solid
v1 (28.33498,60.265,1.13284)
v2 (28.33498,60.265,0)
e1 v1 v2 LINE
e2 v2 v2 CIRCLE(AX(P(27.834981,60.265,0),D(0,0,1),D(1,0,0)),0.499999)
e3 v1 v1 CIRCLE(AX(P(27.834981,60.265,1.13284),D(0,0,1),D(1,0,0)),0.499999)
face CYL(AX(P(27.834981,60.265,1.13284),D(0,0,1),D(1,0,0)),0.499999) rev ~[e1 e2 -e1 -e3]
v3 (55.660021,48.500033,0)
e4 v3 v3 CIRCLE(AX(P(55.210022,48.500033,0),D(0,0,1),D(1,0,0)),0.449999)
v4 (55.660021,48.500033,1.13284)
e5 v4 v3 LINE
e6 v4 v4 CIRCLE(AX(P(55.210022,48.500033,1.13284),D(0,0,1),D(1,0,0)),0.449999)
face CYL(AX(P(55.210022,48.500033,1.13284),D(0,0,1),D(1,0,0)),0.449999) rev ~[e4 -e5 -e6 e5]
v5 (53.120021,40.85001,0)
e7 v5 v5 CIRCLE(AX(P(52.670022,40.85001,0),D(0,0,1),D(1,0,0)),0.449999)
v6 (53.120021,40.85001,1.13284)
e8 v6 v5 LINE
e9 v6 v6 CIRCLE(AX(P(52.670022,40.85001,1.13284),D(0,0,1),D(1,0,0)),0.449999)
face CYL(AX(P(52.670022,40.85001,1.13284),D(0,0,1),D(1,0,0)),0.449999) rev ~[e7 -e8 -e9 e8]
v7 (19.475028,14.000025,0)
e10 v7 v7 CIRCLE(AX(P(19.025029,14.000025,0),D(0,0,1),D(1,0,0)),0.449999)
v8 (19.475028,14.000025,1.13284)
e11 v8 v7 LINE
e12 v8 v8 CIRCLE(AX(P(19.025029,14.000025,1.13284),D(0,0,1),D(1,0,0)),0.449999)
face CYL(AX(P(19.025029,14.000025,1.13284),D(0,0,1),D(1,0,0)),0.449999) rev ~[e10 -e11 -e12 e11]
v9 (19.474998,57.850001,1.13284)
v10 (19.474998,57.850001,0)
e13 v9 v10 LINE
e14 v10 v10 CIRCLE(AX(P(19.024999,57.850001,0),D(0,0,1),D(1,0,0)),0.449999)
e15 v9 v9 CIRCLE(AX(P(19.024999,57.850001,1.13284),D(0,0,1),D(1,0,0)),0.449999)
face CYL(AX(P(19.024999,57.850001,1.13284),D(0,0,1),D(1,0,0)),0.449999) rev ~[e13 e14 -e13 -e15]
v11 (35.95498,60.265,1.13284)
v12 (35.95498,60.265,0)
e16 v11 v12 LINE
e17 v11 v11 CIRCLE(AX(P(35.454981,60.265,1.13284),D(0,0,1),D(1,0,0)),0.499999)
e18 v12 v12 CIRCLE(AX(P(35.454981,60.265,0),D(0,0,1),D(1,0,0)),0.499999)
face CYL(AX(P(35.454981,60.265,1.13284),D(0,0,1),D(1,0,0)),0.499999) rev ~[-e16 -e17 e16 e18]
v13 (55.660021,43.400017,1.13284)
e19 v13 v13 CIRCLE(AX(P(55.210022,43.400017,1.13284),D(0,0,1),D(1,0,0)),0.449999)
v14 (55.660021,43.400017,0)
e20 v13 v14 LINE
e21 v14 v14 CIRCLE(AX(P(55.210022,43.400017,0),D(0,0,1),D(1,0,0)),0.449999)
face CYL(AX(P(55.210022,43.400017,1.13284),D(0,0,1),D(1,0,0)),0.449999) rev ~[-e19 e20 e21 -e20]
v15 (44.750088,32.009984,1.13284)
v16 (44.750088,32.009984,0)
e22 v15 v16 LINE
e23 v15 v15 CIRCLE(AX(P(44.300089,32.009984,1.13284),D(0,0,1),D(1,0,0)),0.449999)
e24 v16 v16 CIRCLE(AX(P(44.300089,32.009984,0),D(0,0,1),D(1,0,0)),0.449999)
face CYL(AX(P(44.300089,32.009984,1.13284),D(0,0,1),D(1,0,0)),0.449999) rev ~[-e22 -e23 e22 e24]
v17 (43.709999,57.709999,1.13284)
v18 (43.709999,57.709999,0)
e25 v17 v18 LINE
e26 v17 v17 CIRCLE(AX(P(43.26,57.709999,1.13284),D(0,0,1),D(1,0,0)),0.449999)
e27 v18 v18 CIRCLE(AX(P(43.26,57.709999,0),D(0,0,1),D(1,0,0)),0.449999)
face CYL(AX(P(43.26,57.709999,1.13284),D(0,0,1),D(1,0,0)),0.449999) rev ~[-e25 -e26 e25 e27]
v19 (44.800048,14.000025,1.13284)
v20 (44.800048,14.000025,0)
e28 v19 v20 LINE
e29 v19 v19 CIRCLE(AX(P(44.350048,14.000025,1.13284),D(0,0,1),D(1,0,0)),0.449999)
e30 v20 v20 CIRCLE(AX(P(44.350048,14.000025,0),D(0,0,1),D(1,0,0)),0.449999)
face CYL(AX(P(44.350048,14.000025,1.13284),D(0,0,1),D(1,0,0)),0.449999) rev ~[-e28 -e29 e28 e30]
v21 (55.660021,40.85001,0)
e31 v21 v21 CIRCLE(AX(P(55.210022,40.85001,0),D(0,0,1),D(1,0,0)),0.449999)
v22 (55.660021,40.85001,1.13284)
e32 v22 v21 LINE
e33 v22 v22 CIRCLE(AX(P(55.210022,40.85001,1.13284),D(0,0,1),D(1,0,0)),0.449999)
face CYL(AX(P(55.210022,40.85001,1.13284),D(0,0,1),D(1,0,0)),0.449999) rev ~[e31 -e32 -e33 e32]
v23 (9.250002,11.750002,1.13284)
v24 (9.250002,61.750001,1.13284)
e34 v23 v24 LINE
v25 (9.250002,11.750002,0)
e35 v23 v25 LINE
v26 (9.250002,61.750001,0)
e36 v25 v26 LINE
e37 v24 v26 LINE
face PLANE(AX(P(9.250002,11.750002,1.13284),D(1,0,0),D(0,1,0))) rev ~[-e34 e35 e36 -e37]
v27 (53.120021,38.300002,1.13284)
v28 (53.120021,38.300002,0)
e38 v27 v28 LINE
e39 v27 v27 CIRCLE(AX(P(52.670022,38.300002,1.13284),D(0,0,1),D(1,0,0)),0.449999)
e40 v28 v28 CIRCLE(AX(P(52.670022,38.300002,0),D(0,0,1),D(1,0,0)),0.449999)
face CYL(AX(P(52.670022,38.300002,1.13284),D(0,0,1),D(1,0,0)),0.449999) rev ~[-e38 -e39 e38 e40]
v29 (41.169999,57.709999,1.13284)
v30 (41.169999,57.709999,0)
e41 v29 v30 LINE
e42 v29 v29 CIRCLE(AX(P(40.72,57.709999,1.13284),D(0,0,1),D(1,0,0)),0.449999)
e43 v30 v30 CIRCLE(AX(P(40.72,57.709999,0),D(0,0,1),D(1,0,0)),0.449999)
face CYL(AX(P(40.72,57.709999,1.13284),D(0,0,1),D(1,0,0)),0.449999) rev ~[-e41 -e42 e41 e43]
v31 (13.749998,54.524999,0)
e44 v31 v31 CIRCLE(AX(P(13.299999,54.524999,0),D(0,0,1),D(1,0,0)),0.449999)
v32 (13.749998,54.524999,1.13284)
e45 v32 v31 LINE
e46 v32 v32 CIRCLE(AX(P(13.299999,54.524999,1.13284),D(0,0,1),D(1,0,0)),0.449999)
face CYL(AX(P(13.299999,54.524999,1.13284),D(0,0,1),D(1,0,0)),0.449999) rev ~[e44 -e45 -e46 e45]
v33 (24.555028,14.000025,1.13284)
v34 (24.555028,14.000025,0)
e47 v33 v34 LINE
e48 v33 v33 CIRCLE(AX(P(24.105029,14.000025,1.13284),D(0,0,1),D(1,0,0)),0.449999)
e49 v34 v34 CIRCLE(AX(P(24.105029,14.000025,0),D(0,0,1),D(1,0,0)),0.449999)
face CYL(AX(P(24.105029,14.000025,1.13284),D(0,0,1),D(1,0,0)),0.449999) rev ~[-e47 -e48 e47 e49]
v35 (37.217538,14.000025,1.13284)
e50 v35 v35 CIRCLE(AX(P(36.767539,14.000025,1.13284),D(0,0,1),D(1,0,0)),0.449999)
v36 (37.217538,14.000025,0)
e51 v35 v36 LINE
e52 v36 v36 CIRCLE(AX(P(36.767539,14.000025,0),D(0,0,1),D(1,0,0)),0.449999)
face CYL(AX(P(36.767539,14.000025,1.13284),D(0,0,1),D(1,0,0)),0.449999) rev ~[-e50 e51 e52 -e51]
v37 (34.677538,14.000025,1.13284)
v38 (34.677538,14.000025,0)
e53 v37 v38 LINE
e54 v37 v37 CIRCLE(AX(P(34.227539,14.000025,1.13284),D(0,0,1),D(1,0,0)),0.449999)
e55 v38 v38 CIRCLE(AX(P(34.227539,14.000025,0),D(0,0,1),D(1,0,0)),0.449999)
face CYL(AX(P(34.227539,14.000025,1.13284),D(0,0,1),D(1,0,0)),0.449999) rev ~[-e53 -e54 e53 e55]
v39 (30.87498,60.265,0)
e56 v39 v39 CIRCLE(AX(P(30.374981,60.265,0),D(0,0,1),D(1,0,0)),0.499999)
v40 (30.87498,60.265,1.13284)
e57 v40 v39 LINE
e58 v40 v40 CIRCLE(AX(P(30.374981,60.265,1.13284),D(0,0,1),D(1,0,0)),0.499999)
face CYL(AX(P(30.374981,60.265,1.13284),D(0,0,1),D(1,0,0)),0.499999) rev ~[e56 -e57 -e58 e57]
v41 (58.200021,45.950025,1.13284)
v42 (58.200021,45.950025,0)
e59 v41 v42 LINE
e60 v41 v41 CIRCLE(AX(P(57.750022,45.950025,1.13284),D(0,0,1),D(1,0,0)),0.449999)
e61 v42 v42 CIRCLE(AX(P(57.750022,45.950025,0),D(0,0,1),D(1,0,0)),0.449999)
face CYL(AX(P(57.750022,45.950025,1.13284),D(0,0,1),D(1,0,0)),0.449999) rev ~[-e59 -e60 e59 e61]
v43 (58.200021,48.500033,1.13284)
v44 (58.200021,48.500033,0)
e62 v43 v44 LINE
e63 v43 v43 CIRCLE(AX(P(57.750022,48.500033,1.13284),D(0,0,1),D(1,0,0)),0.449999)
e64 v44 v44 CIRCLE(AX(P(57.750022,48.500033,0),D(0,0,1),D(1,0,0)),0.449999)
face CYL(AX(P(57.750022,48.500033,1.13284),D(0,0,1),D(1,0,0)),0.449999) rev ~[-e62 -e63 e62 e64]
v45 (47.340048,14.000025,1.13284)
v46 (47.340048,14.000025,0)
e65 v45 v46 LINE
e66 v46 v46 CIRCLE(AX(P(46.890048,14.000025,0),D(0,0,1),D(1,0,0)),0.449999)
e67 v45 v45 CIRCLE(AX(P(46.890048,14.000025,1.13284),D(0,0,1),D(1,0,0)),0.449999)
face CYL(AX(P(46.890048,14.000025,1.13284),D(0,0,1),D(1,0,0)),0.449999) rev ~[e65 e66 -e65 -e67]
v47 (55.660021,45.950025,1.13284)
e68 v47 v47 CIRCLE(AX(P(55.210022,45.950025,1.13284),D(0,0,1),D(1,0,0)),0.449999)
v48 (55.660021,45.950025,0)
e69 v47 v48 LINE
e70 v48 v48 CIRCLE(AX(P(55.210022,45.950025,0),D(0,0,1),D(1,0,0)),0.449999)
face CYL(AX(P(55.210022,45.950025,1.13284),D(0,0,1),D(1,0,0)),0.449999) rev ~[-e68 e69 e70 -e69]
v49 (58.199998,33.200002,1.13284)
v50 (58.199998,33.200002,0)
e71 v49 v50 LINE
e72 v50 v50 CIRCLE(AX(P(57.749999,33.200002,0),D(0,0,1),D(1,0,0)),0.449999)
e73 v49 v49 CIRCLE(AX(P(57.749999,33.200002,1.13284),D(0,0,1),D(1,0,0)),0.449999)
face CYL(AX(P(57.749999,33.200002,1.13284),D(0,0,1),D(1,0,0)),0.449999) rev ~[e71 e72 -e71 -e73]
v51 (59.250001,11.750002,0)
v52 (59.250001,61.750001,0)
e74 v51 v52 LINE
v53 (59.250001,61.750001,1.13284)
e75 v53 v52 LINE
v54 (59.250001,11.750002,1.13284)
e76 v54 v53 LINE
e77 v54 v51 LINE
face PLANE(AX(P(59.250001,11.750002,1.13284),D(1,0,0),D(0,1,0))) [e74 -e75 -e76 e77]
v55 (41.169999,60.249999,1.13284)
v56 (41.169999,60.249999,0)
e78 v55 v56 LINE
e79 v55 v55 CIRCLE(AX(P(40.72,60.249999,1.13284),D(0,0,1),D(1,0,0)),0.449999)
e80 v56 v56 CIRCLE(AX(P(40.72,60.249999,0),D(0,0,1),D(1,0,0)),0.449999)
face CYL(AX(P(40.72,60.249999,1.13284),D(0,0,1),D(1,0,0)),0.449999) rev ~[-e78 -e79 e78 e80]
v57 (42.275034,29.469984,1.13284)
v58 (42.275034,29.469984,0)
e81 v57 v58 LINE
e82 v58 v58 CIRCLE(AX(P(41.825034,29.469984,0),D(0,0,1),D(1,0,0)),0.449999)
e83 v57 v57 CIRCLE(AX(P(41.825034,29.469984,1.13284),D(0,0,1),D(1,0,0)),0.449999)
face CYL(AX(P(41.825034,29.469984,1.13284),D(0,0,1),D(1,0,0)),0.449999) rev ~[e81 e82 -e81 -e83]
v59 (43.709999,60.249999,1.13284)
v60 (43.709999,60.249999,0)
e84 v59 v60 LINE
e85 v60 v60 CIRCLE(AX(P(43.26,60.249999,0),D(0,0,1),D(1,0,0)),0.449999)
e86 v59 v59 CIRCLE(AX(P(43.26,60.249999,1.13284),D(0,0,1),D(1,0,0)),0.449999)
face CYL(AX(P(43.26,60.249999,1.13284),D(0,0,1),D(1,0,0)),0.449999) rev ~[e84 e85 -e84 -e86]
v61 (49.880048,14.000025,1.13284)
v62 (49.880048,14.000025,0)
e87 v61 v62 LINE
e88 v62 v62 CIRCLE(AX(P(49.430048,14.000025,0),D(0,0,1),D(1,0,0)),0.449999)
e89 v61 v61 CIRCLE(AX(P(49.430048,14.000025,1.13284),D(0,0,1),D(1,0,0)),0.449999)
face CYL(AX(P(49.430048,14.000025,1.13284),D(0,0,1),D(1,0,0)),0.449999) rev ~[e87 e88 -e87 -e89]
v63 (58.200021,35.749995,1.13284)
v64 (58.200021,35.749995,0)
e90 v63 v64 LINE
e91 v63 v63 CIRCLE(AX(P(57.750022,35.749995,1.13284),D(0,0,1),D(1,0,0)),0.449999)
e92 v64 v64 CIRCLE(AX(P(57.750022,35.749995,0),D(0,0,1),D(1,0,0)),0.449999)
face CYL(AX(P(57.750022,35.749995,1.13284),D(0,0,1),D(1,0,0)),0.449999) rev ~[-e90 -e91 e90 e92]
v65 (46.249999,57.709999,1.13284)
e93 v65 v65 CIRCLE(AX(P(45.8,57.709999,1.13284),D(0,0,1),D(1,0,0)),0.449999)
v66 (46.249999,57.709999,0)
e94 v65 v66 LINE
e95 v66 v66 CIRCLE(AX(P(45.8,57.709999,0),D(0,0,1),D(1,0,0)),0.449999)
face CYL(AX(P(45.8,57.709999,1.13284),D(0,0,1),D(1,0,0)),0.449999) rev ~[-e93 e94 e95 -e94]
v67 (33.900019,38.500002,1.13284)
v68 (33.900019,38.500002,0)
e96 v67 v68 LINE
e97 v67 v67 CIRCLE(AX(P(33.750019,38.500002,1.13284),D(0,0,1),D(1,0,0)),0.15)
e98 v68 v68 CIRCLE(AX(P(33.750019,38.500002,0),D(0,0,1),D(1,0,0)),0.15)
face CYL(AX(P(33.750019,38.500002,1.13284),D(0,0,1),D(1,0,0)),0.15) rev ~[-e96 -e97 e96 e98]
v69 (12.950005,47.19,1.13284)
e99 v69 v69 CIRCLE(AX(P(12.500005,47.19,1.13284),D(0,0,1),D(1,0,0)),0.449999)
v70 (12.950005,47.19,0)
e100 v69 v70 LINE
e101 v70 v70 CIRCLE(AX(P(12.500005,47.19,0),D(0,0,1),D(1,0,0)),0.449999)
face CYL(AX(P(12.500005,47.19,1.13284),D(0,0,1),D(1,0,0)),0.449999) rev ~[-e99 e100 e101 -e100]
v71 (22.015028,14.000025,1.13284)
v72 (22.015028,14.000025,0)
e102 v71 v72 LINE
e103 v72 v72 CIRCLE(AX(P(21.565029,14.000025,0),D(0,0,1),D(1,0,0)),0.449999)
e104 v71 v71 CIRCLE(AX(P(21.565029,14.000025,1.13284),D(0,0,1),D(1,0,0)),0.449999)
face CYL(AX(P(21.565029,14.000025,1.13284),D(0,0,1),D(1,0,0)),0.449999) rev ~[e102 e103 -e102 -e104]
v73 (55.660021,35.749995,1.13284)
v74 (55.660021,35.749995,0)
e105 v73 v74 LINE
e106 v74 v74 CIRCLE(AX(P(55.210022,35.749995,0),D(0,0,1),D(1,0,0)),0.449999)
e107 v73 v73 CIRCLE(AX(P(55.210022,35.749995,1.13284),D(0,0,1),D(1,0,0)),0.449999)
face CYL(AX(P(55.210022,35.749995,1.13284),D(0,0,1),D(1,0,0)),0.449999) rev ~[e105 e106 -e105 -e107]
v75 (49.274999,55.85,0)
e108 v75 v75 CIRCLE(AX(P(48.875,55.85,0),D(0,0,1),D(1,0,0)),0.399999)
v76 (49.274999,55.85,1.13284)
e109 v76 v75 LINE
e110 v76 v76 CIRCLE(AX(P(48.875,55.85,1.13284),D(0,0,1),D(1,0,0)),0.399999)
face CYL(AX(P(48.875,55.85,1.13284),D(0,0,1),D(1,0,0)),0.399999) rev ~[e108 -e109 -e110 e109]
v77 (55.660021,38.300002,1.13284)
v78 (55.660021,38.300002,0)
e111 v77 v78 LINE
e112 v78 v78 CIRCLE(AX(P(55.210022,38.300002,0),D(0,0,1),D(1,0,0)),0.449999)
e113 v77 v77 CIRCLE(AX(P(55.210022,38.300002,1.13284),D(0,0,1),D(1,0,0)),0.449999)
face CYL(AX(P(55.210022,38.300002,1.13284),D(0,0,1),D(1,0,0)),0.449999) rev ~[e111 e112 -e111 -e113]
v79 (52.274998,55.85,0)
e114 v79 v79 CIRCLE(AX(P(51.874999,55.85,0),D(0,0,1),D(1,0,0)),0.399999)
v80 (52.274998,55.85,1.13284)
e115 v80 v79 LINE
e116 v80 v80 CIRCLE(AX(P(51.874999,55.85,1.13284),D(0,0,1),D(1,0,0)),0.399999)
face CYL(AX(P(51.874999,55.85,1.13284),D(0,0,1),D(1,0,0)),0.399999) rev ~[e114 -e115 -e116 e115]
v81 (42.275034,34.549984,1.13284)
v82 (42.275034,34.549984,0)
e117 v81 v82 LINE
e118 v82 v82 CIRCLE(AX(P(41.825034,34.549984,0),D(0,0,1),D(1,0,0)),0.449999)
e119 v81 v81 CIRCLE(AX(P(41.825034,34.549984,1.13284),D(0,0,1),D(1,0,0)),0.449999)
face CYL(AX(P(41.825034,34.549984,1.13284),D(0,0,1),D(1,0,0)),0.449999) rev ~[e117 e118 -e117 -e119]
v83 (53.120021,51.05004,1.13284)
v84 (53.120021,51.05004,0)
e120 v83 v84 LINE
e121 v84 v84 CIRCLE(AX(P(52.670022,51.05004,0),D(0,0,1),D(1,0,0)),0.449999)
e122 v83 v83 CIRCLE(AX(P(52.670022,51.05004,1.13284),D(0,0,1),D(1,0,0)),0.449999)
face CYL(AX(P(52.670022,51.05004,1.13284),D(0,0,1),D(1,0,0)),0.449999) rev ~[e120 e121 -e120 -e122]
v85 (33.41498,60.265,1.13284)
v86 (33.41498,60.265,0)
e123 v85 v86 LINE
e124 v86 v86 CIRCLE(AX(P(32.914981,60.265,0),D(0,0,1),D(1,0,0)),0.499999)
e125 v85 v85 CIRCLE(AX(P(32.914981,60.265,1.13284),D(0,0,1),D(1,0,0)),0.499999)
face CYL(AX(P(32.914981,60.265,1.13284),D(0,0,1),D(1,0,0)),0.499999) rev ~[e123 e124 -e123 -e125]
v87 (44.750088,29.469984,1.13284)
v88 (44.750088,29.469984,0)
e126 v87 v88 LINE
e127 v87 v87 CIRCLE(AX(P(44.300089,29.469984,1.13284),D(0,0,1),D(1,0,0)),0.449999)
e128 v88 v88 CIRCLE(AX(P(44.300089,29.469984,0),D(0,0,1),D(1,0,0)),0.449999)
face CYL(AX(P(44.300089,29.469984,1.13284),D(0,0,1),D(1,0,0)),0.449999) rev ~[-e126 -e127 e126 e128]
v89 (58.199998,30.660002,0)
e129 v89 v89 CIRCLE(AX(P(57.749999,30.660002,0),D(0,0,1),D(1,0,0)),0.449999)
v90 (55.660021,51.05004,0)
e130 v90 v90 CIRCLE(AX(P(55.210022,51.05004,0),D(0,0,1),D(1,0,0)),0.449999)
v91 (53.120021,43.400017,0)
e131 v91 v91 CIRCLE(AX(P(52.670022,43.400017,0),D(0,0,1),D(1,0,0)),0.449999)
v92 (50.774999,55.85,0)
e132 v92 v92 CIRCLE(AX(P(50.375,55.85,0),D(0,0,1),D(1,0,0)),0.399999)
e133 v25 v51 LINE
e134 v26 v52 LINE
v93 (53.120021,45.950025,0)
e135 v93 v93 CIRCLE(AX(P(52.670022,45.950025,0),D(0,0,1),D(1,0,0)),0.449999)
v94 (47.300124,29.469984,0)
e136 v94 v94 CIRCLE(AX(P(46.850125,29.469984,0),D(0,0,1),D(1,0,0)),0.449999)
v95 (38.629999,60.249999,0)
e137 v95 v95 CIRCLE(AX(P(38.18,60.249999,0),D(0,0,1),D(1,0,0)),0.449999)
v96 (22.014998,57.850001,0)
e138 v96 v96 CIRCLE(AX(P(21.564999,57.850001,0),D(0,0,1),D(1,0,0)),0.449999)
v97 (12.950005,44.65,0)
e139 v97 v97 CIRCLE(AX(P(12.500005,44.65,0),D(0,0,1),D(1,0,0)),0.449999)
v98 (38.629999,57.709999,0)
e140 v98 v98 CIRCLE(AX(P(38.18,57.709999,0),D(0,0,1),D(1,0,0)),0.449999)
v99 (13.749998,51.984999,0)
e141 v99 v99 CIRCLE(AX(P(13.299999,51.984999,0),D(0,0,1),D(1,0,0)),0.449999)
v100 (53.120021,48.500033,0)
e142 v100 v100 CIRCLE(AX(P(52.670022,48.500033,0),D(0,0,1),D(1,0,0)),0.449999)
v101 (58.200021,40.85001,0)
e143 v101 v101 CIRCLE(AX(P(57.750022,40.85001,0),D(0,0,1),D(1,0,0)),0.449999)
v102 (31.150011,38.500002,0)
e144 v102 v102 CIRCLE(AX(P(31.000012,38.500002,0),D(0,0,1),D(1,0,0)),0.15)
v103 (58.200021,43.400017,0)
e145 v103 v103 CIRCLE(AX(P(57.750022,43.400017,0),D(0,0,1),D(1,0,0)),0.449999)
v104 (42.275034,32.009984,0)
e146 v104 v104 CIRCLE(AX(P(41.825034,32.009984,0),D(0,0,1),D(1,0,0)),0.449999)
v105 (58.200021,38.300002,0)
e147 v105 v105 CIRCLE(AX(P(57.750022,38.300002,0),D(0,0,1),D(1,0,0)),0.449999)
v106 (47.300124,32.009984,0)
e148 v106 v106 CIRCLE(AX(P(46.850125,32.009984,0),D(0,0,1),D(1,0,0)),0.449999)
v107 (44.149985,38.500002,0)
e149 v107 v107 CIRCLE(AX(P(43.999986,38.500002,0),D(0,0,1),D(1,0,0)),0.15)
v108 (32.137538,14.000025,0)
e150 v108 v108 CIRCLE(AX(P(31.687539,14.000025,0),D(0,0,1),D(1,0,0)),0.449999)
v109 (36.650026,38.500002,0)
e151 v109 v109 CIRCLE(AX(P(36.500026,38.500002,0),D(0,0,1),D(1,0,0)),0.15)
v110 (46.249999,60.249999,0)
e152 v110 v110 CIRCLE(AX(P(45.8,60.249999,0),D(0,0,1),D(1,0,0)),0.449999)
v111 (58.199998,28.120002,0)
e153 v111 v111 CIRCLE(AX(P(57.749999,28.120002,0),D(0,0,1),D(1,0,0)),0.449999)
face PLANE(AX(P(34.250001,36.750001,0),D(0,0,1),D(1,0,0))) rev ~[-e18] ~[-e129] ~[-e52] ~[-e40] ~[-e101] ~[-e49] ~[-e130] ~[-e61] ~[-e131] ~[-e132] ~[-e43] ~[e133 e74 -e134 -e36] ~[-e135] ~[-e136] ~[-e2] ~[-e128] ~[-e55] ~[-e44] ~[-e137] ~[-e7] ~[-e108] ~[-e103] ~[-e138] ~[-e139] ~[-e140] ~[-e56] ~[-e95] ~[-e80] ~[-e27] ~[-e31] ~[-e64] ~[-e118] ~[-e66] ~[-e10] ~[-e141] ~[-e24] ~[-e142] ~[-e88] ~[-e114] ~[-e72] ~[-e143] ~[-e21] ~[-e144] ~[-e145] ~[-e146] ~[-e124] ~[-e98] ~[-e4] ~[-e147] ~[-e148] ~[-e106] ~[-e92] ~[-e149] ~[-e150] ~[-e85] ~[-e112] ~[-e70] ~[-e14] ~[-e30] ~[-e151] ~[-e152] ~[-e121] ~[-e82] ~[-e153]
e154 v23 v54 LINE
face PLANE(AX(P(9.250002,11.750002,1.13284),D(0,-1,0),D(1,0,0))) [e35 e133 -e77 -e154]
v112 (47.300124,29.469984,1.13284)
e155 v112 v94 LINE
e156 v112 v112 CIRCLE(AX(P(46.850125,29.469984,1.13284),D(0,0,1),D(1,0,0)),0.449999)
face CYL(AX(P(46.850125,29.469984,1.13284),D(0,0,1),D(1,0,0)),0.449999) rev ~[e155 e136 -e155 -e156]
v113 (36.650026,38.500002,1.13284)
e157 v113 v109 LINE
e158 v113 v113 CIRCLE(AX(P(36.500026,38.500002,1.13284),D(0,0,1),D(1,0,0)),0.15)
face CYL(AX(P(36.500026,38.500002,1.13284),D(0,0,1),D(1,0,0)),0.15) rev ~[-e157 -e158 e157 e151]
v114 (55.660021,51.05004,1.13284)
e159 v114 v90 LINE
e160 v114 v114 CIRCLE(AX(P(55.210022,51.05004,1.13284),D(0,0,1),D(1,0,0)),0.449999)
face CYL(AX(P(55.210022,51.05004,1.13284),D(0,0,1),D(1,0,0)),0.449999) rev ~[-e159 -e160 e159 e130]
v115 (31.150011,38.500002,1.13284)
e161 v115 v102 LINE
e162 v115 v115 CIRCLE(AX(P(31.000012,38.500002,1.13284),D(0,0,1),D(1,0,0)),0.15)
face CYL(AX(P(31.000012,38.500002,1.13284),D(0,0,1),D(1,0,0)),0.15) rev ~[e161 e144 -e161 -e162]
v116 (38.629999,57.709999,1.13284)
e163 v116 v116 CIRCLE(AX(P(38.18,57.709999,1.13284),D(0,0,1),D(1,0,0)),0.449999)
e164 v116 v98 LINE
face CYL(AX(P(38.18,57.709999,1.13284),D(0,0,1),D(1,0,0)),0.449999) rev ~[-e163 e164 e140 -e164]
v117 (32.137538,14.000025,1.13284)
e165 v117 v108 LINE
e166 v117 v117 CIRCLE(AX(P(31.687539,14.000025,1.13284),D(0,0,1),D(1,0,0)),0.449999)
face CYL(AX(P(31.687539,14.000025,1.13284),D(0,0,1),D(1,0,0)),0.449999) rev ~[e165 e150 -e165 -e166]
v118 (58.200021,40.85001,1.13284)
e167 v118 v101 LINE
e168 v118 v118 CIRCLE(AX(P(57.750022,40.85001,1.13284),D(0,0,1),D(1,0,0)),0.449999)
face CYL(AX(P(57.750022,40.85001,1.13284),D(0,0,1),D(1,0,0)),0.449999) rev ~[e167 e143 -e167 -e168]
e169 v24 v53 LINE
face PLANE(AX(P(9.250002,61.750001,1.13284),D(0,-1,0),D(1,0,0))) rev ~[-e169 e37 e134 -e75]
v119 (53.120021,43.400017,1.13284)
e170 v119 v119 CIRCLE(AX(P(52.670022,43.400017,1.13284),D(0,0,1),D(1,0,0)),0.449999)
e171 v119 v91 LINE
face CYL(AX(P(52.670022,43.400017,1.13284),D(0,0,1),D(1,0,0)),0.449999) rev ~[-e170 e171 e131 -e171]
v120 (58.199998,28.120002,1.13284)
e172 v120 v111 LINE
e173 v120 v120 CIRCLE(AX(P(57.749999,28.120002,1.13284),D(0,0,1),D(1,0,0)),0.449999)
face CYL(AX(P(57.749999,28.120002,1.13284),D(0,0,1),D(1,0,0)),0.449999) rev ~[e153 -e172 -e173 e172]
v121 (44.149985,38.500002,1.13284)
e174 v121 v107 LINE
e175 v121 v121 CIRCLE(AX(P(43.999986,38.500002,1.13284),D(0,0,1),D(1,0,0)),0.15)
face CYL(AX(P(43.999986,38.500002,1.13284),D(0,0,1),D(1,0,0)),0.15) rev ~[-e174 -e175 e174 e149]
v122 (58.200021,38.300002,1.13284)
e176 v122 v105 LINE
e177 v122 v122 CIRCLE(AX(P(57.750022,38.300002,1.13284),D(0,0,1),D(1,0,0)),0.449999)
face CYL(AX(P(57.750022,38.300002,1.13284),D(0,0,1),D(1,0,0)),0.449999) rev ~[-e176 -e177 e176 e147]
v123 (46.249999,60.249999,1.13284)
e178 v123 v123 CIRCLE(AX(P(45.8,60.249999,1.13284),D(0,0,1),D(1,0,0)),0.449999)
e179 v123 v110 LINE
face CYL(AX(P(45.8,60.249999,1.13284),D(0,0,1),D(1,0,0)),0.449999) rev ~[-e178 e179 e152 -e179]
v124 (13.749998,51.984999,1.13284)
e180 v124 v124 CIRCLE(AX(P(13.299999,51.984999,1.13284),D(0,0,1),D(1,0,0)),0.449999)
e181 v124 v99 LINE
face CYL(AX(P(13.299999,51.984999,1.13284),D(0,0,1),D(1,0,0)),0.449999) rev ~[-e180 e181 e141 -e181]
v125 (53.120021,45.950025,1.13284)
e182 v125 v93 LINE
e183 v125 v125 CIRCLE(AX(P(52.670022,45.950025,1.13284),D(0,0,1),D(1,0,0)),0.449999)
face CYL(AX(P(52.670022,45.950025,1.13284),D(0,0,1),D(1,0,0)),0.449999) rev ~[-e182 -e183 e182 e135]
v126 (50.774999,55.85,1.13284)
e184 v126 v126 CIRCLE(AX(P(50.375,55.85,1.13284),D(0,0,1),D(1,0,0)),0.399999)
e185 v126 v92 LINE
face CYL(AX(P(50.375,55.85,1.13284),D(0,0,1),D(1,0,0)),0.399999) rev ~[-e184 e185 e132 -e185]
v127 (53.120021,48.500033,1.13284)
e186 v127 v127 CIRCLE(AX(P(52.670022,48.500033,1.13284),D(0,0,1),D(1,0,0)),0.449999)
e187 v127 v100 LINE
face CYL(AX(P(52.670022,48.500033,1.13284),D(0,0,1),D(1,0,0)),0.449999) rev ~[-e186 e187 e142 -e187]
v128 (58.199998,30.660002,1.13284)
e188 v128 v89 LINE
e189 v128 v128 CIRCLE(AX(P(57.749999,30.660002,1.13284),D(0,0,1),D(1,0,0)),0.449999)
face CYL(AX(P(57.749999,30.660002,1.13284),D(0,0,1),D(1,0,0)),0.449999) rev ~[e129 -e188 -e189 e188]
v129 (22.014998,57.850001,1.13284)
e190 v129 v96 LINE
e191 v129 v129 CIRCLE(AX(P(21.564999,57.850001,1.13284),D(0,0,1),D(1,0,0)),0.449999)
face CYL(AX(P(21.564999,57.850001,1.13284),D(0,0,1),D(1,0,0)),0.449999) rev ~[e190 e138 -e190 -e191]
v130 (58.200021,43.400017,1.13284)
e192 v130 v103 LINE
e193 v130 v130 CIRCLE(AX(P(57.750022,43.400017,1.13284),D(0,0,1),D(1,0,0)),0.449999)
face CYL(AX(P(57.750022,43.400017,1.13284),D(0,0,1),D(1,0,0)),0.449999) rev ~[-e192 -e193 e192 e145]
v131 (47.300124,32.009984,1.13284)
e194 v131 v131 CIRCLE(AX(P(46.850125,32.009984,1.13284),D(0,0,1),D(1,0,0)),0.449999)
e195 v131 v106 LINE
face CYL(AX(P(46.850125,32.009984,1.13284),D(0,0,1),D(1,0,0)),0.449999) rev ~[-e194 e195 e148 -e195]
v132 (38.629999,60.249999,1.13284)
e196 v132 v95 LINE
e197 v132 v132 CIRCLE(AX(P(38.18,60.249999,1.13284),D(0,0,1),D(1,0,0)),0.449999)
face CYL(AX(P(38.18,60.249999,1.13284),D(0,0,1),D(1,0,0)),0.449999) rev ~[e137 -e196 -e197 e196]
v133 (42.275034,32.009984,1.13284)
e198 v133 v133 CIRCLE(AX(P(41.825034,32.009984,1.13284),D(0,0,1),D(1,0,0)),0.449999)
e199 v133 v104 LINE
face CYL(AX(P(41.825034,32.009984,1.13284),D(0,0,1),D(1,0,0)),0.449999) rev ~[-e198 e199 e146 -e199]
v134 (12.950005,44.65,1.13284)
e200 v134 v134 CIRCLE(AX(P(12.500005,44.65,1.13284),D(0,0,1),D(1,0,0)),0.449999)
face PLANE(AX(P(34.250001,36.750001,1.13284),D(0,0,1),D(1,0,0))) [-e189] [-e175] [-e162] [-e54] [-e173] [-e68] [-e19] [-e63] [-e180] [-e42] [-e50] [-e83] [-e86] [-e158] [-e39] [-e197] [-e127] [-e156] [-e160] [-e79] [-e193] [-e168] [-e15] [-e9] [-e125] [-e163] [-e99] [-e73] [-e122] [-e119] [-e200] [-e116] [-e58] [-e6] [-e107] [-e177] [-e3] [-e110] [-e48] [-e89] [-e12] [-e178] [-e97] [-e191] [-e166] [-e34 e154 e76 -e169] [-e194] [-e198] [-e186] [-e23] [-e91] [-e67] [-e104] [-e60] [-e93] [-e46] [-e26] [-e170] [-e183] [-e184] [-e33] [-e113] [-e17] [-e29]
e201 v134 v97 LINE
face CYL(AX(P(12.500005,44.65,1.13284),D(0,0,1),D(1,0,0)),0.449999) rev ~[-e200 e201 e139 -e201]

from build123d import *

# Parameters (mm, degrees)
SKETCH_1_W      = 49.99999906
SKETCH_1_H      = 49.99999906
SKETCH_1_R      = 0.4499991
SKETCH_1_R_2    = 0.3999992
SKETCH_1_R_3    = 0.499999
SKETCH_1_R_4    = 0.1499997
EXTRUDE_1_DEPTH = 1.13284


with BuildPart() as part:
    # Эскиз1 → Бобышка-Вытянуть1 (new body)
    with BuildSketch(Plane.XY.offset(1.13284)):
        with Locations((34.25000135, 36.75000143)):
            Rectangle(SKETCH_1_W, SKETCH_1_H)
        with Locations((57.75002166, 48.50003254)):
            Circle(SKETCH_1_R, mode=Mode.SUBTRACT)
        with Locations((57.75002166, 45.95002494)):
            Circle(SKETCH_1_R, mode=Mode.SUBTRACT)
        with Locations((55.21002166, 51.05004014)):
            Circle(SKETCH_1_R, mode=Mode.SUBTRACT)
        with Locations((55.21002166, 48.50003254)):
            Circle(SKETCH_1_R, mode=Mode.SUBTRACT)
        with Locations((55.21002166, 45.95002494)):
            Circle(SKETCH_1_R, mode=Mode.SUBTRACT)
        with Locations((57.75002166, 43.40001734)):
            Circle(SKETCH_1_R, mode=Mode.SUBTRACT)
        with Locations((52.67002166, 43.40001734)):
            Circle(SKETCH_1_R, mode=Mode.SUBTRACT)
        with Locations((55.21002166, 43.40001734)):
            Circle(SKETCH_1_R, mode=Mode.SUBTRACT)
        with Locations((50.37499958, 55.85000006)):
            Circle(SKETCH_1_R_2, mode=Mode.SUBTRACT)
        with Locations((51.87499912, 55.85000006)):
            Circle(SKETCH_1_R_2, mode=Mode.SUBTRACT)
        with Locations((45.79999984, 60.24999888)):
            Circle(SKETCH_1_R, mode=Mode.SUBTRACT)
        with Locations((45.79999984, 57.70999888)):
            Circle(SKETCH_1_R, mode=Mode.SUBTRACT)
        with Locations((52.67002166, 48.50003254)):
            Circle(SKETCH_1_R, mode=Mode.SUBTRACT)
        with Locations((52.67002166, 45.95002494)):
            Circle(SKETCH_1_R, mode=Mode.SUBTRACT)
        with Locations((48.87500004, 55.85000006)):
            Circle(SKETCH_1_R_2, mode=Mode.SUBTRACT)
        with Locations((52.67002166, 51.05004014)):
            Circle(SKETCH_1_R, mode=Mode.SUBTRACT)
        with Locations((57.75002166, 40.85000974)):
            Circle(SKETCH_1_R, mode=Mode.SUBTRACT)
        with Locations((57.75002166, 38.30000214)):
            Circle(SKETCH_1_R, mode=Mode.SUBTRACT)
        with Locations((55.21002166, 40.85000974)):
            Circle(SKETCH_1_R, mode=Mode.SUBTRACT)
        with Locations((55.21002166, 38.30000214)):
            Circle(SKETCH_1_R, mode=Mode.SUBTRACT)
        with Locations((57.75002166, 35.74999454)):
            Circle(SKETCH_1_R, mode=Mode.SUBTRACT)
        with Locations((57.7499988, 33.20000218)):
            Circle(SKETCH_1_R, mode=Mode.SUBTRACT)
        with Locations((57.7499988, 30.66000218)):
            Circle(SKETCH_1_R, mode=Mode.SUBTRACT)
        with Locations((57.7499988, 28.12000218)):
            Circle(SKETCH_1_R, mode=Mode.SUBTRACT)
        with Locations((52.67002166, 40.85000974)):
            Circle(SKETCH_1_R, mode=Mode.SUBTRACT)
        with Locations((55.21002166, 35.74999454)):
            Circle(SKETCH_1_R, mode=Mode.SUBTRACT)
        with Locations((52.67002166, 38.30000214)):
            Circle(SKETCH_1_R, mode=Mode.SUBTRACT)
        with Locations((46.85012474, 32.00998424)):
            Circle(SKETCH_1_R, mode=Mode.SUBTRACT)
        with Locations((46.89004846, 14.00002534)):
            Circle(SKETCH_1_R, mode=Mode.SUBTRACT)
        with Locations((49.43004846, 14.00002534)):
            Circle(SKETCH_1_R, mode=Mode.SUBTRACT)
        with Locations((46.85012474, 29.46998424)):
            Circle(SKETCH_1_R, mode=Mode.SUBTRACT)
        with Locations((44.35004846, 14.00002534)):
            Circle(SKETCH_1_R, mode=Mode.SUBTRACT)
        with Locations((40.71999984, 60.24999888)):
            Circle(SKETCH_1_R, mode=Mode.SUBTRACT)
        with Locations((43.25999984, 60.24999888)):
            Circle(SKETCH_1_R, mode=Mode.SUBTRACT)
        with Locations((32.91498116, 60.26500012)):
            Circle(SKETCH_1_R_3, mode=Mode.SUBTRACT)
        with Locations((35.45498116, 60.26500012)):
            Circle(SKETCH_1_R_3, mode=Mode.SUBTRACT)
        with Locations((40.71999984, 57.70999888)):
            Circle(SKETCH_1_R, mode=Mode.SUBTRACT)
        with Locations((43.25999984, 57.70999888)):
            Circle(SKETCH_1_R, mode=Mode.SUBTRACT)
        with Locations((38.17999984, 60.24999888)):
            Circle(SKETCH_1_R, mode=Mode.SUBTRACT)
        with Locations((38.17999984, 57.70999888)):
            Circle(SKETCH_1_R, mode=Mode.SUBTRACT)
        with Locations((27.83498116, 60.26500012)):
            Circle(SKETCH_1_R_3, mode=Mode.SUBTRACT)
        with Locations((30.37498116, 60.26500012)):
            Circle(SKETCH_1_R_3, mode=Mode.SUBTRACT)
        with Locations((19.02499878, 57.85000114)):
            Circle(SKETCH_1_R, mode=Mode.SUBTRACT)
        with Locations((21.56499878, 57.85000114)):
            Circle(SKETCH_1_R, mode=Mode.SUBTRACT)
        with Locations((13.2999988, 54.5249989)):
            Circle(SKETCH_1_R, mode=Mode.SUBTRACT)
        with Locations((13.2999988, 51.9849989)):
            Circle(SKETCH_1_R, mode=Mode.SUBTRACT)
        with Locations((12.50000548, 47.1899996)):
            Circle(SKETCH_1_R, mode=Mode.SUBTRACT)
        with Locations((12.50000548, 44.6499996)):
            Circle(SKETCH_1_R, mode=Mode.SUBTRACT)
        with Locations((43.99998566, 38.50000174)):
            Circle(SKETCH_1_R_4, mode=Mode.SUBTRACT)
        with Locations((41.82503446, 34.54998424)):
            Circle(SKETCH_1_R, mode=Mode.SUBTRACT)
        with Locations((36.50002606, 38.50000174)):
            Circle(SKETCH_1_R_4, mode=Mode.SUBTRACT)
        with Locations((41.82503446, 32.00998424)):
            Circle(SKETCH_1_R, mode=Mode.SUBTRACT)
        with Locations((44.3000892, 32.00998424)):
            Circle(SKETCH_1_R, mode=Mode.SUBTRACT)
        with Locations((44.3000892, 29.46998424)):
            Circle(SKETCH_1_R, mode=Mode.SUBTRACT)
        with Locations((41.82503446, 29.46998424)):
            Circle(SKETCH_1_R, mode=Mode.SUBTRACT)
        with Locations((36.76753886, 14.00002534)):
            Circle(SKETCH_1_R, mode=Mode.SUBTRACT)
        with Locations((33.75001886, 38.50000174)):
            Circle(SKETCH_1_R_4, mode=Mode.SUBTRACT)
        with Locations((34.22753886, 14.00002534)):
            Circle(SKETCH_1_R, mode=Mode.SUBTRACT)
        with Locations((31.00001166, 38.50000174)):
            Circle(SKETCH_1_R_4, mode=Mode.SUBTRACT)
        with Locations((19.02502926, 14.00002534)):
            Circle(SKETCH_1_R, mode=Mode.SUBTRACT)
        with Locations((24.10502926, 14.00002534)):
            Circle(SKETCH_1_R, mode=Mode.SUBTRACT)
        with Locations((31.68753886, 14.00002534)):
            Circle(SKETCH_1_R, mode=Mode.SUBTRACT)
        with Locations((21.56502926, 14.00002534)):
            Circle(SKETCH_1_R, mode=Mode.SUBTRACT)
    extrude(amount=-EXTRUDE_1_DEPTH)


solid = part.part
